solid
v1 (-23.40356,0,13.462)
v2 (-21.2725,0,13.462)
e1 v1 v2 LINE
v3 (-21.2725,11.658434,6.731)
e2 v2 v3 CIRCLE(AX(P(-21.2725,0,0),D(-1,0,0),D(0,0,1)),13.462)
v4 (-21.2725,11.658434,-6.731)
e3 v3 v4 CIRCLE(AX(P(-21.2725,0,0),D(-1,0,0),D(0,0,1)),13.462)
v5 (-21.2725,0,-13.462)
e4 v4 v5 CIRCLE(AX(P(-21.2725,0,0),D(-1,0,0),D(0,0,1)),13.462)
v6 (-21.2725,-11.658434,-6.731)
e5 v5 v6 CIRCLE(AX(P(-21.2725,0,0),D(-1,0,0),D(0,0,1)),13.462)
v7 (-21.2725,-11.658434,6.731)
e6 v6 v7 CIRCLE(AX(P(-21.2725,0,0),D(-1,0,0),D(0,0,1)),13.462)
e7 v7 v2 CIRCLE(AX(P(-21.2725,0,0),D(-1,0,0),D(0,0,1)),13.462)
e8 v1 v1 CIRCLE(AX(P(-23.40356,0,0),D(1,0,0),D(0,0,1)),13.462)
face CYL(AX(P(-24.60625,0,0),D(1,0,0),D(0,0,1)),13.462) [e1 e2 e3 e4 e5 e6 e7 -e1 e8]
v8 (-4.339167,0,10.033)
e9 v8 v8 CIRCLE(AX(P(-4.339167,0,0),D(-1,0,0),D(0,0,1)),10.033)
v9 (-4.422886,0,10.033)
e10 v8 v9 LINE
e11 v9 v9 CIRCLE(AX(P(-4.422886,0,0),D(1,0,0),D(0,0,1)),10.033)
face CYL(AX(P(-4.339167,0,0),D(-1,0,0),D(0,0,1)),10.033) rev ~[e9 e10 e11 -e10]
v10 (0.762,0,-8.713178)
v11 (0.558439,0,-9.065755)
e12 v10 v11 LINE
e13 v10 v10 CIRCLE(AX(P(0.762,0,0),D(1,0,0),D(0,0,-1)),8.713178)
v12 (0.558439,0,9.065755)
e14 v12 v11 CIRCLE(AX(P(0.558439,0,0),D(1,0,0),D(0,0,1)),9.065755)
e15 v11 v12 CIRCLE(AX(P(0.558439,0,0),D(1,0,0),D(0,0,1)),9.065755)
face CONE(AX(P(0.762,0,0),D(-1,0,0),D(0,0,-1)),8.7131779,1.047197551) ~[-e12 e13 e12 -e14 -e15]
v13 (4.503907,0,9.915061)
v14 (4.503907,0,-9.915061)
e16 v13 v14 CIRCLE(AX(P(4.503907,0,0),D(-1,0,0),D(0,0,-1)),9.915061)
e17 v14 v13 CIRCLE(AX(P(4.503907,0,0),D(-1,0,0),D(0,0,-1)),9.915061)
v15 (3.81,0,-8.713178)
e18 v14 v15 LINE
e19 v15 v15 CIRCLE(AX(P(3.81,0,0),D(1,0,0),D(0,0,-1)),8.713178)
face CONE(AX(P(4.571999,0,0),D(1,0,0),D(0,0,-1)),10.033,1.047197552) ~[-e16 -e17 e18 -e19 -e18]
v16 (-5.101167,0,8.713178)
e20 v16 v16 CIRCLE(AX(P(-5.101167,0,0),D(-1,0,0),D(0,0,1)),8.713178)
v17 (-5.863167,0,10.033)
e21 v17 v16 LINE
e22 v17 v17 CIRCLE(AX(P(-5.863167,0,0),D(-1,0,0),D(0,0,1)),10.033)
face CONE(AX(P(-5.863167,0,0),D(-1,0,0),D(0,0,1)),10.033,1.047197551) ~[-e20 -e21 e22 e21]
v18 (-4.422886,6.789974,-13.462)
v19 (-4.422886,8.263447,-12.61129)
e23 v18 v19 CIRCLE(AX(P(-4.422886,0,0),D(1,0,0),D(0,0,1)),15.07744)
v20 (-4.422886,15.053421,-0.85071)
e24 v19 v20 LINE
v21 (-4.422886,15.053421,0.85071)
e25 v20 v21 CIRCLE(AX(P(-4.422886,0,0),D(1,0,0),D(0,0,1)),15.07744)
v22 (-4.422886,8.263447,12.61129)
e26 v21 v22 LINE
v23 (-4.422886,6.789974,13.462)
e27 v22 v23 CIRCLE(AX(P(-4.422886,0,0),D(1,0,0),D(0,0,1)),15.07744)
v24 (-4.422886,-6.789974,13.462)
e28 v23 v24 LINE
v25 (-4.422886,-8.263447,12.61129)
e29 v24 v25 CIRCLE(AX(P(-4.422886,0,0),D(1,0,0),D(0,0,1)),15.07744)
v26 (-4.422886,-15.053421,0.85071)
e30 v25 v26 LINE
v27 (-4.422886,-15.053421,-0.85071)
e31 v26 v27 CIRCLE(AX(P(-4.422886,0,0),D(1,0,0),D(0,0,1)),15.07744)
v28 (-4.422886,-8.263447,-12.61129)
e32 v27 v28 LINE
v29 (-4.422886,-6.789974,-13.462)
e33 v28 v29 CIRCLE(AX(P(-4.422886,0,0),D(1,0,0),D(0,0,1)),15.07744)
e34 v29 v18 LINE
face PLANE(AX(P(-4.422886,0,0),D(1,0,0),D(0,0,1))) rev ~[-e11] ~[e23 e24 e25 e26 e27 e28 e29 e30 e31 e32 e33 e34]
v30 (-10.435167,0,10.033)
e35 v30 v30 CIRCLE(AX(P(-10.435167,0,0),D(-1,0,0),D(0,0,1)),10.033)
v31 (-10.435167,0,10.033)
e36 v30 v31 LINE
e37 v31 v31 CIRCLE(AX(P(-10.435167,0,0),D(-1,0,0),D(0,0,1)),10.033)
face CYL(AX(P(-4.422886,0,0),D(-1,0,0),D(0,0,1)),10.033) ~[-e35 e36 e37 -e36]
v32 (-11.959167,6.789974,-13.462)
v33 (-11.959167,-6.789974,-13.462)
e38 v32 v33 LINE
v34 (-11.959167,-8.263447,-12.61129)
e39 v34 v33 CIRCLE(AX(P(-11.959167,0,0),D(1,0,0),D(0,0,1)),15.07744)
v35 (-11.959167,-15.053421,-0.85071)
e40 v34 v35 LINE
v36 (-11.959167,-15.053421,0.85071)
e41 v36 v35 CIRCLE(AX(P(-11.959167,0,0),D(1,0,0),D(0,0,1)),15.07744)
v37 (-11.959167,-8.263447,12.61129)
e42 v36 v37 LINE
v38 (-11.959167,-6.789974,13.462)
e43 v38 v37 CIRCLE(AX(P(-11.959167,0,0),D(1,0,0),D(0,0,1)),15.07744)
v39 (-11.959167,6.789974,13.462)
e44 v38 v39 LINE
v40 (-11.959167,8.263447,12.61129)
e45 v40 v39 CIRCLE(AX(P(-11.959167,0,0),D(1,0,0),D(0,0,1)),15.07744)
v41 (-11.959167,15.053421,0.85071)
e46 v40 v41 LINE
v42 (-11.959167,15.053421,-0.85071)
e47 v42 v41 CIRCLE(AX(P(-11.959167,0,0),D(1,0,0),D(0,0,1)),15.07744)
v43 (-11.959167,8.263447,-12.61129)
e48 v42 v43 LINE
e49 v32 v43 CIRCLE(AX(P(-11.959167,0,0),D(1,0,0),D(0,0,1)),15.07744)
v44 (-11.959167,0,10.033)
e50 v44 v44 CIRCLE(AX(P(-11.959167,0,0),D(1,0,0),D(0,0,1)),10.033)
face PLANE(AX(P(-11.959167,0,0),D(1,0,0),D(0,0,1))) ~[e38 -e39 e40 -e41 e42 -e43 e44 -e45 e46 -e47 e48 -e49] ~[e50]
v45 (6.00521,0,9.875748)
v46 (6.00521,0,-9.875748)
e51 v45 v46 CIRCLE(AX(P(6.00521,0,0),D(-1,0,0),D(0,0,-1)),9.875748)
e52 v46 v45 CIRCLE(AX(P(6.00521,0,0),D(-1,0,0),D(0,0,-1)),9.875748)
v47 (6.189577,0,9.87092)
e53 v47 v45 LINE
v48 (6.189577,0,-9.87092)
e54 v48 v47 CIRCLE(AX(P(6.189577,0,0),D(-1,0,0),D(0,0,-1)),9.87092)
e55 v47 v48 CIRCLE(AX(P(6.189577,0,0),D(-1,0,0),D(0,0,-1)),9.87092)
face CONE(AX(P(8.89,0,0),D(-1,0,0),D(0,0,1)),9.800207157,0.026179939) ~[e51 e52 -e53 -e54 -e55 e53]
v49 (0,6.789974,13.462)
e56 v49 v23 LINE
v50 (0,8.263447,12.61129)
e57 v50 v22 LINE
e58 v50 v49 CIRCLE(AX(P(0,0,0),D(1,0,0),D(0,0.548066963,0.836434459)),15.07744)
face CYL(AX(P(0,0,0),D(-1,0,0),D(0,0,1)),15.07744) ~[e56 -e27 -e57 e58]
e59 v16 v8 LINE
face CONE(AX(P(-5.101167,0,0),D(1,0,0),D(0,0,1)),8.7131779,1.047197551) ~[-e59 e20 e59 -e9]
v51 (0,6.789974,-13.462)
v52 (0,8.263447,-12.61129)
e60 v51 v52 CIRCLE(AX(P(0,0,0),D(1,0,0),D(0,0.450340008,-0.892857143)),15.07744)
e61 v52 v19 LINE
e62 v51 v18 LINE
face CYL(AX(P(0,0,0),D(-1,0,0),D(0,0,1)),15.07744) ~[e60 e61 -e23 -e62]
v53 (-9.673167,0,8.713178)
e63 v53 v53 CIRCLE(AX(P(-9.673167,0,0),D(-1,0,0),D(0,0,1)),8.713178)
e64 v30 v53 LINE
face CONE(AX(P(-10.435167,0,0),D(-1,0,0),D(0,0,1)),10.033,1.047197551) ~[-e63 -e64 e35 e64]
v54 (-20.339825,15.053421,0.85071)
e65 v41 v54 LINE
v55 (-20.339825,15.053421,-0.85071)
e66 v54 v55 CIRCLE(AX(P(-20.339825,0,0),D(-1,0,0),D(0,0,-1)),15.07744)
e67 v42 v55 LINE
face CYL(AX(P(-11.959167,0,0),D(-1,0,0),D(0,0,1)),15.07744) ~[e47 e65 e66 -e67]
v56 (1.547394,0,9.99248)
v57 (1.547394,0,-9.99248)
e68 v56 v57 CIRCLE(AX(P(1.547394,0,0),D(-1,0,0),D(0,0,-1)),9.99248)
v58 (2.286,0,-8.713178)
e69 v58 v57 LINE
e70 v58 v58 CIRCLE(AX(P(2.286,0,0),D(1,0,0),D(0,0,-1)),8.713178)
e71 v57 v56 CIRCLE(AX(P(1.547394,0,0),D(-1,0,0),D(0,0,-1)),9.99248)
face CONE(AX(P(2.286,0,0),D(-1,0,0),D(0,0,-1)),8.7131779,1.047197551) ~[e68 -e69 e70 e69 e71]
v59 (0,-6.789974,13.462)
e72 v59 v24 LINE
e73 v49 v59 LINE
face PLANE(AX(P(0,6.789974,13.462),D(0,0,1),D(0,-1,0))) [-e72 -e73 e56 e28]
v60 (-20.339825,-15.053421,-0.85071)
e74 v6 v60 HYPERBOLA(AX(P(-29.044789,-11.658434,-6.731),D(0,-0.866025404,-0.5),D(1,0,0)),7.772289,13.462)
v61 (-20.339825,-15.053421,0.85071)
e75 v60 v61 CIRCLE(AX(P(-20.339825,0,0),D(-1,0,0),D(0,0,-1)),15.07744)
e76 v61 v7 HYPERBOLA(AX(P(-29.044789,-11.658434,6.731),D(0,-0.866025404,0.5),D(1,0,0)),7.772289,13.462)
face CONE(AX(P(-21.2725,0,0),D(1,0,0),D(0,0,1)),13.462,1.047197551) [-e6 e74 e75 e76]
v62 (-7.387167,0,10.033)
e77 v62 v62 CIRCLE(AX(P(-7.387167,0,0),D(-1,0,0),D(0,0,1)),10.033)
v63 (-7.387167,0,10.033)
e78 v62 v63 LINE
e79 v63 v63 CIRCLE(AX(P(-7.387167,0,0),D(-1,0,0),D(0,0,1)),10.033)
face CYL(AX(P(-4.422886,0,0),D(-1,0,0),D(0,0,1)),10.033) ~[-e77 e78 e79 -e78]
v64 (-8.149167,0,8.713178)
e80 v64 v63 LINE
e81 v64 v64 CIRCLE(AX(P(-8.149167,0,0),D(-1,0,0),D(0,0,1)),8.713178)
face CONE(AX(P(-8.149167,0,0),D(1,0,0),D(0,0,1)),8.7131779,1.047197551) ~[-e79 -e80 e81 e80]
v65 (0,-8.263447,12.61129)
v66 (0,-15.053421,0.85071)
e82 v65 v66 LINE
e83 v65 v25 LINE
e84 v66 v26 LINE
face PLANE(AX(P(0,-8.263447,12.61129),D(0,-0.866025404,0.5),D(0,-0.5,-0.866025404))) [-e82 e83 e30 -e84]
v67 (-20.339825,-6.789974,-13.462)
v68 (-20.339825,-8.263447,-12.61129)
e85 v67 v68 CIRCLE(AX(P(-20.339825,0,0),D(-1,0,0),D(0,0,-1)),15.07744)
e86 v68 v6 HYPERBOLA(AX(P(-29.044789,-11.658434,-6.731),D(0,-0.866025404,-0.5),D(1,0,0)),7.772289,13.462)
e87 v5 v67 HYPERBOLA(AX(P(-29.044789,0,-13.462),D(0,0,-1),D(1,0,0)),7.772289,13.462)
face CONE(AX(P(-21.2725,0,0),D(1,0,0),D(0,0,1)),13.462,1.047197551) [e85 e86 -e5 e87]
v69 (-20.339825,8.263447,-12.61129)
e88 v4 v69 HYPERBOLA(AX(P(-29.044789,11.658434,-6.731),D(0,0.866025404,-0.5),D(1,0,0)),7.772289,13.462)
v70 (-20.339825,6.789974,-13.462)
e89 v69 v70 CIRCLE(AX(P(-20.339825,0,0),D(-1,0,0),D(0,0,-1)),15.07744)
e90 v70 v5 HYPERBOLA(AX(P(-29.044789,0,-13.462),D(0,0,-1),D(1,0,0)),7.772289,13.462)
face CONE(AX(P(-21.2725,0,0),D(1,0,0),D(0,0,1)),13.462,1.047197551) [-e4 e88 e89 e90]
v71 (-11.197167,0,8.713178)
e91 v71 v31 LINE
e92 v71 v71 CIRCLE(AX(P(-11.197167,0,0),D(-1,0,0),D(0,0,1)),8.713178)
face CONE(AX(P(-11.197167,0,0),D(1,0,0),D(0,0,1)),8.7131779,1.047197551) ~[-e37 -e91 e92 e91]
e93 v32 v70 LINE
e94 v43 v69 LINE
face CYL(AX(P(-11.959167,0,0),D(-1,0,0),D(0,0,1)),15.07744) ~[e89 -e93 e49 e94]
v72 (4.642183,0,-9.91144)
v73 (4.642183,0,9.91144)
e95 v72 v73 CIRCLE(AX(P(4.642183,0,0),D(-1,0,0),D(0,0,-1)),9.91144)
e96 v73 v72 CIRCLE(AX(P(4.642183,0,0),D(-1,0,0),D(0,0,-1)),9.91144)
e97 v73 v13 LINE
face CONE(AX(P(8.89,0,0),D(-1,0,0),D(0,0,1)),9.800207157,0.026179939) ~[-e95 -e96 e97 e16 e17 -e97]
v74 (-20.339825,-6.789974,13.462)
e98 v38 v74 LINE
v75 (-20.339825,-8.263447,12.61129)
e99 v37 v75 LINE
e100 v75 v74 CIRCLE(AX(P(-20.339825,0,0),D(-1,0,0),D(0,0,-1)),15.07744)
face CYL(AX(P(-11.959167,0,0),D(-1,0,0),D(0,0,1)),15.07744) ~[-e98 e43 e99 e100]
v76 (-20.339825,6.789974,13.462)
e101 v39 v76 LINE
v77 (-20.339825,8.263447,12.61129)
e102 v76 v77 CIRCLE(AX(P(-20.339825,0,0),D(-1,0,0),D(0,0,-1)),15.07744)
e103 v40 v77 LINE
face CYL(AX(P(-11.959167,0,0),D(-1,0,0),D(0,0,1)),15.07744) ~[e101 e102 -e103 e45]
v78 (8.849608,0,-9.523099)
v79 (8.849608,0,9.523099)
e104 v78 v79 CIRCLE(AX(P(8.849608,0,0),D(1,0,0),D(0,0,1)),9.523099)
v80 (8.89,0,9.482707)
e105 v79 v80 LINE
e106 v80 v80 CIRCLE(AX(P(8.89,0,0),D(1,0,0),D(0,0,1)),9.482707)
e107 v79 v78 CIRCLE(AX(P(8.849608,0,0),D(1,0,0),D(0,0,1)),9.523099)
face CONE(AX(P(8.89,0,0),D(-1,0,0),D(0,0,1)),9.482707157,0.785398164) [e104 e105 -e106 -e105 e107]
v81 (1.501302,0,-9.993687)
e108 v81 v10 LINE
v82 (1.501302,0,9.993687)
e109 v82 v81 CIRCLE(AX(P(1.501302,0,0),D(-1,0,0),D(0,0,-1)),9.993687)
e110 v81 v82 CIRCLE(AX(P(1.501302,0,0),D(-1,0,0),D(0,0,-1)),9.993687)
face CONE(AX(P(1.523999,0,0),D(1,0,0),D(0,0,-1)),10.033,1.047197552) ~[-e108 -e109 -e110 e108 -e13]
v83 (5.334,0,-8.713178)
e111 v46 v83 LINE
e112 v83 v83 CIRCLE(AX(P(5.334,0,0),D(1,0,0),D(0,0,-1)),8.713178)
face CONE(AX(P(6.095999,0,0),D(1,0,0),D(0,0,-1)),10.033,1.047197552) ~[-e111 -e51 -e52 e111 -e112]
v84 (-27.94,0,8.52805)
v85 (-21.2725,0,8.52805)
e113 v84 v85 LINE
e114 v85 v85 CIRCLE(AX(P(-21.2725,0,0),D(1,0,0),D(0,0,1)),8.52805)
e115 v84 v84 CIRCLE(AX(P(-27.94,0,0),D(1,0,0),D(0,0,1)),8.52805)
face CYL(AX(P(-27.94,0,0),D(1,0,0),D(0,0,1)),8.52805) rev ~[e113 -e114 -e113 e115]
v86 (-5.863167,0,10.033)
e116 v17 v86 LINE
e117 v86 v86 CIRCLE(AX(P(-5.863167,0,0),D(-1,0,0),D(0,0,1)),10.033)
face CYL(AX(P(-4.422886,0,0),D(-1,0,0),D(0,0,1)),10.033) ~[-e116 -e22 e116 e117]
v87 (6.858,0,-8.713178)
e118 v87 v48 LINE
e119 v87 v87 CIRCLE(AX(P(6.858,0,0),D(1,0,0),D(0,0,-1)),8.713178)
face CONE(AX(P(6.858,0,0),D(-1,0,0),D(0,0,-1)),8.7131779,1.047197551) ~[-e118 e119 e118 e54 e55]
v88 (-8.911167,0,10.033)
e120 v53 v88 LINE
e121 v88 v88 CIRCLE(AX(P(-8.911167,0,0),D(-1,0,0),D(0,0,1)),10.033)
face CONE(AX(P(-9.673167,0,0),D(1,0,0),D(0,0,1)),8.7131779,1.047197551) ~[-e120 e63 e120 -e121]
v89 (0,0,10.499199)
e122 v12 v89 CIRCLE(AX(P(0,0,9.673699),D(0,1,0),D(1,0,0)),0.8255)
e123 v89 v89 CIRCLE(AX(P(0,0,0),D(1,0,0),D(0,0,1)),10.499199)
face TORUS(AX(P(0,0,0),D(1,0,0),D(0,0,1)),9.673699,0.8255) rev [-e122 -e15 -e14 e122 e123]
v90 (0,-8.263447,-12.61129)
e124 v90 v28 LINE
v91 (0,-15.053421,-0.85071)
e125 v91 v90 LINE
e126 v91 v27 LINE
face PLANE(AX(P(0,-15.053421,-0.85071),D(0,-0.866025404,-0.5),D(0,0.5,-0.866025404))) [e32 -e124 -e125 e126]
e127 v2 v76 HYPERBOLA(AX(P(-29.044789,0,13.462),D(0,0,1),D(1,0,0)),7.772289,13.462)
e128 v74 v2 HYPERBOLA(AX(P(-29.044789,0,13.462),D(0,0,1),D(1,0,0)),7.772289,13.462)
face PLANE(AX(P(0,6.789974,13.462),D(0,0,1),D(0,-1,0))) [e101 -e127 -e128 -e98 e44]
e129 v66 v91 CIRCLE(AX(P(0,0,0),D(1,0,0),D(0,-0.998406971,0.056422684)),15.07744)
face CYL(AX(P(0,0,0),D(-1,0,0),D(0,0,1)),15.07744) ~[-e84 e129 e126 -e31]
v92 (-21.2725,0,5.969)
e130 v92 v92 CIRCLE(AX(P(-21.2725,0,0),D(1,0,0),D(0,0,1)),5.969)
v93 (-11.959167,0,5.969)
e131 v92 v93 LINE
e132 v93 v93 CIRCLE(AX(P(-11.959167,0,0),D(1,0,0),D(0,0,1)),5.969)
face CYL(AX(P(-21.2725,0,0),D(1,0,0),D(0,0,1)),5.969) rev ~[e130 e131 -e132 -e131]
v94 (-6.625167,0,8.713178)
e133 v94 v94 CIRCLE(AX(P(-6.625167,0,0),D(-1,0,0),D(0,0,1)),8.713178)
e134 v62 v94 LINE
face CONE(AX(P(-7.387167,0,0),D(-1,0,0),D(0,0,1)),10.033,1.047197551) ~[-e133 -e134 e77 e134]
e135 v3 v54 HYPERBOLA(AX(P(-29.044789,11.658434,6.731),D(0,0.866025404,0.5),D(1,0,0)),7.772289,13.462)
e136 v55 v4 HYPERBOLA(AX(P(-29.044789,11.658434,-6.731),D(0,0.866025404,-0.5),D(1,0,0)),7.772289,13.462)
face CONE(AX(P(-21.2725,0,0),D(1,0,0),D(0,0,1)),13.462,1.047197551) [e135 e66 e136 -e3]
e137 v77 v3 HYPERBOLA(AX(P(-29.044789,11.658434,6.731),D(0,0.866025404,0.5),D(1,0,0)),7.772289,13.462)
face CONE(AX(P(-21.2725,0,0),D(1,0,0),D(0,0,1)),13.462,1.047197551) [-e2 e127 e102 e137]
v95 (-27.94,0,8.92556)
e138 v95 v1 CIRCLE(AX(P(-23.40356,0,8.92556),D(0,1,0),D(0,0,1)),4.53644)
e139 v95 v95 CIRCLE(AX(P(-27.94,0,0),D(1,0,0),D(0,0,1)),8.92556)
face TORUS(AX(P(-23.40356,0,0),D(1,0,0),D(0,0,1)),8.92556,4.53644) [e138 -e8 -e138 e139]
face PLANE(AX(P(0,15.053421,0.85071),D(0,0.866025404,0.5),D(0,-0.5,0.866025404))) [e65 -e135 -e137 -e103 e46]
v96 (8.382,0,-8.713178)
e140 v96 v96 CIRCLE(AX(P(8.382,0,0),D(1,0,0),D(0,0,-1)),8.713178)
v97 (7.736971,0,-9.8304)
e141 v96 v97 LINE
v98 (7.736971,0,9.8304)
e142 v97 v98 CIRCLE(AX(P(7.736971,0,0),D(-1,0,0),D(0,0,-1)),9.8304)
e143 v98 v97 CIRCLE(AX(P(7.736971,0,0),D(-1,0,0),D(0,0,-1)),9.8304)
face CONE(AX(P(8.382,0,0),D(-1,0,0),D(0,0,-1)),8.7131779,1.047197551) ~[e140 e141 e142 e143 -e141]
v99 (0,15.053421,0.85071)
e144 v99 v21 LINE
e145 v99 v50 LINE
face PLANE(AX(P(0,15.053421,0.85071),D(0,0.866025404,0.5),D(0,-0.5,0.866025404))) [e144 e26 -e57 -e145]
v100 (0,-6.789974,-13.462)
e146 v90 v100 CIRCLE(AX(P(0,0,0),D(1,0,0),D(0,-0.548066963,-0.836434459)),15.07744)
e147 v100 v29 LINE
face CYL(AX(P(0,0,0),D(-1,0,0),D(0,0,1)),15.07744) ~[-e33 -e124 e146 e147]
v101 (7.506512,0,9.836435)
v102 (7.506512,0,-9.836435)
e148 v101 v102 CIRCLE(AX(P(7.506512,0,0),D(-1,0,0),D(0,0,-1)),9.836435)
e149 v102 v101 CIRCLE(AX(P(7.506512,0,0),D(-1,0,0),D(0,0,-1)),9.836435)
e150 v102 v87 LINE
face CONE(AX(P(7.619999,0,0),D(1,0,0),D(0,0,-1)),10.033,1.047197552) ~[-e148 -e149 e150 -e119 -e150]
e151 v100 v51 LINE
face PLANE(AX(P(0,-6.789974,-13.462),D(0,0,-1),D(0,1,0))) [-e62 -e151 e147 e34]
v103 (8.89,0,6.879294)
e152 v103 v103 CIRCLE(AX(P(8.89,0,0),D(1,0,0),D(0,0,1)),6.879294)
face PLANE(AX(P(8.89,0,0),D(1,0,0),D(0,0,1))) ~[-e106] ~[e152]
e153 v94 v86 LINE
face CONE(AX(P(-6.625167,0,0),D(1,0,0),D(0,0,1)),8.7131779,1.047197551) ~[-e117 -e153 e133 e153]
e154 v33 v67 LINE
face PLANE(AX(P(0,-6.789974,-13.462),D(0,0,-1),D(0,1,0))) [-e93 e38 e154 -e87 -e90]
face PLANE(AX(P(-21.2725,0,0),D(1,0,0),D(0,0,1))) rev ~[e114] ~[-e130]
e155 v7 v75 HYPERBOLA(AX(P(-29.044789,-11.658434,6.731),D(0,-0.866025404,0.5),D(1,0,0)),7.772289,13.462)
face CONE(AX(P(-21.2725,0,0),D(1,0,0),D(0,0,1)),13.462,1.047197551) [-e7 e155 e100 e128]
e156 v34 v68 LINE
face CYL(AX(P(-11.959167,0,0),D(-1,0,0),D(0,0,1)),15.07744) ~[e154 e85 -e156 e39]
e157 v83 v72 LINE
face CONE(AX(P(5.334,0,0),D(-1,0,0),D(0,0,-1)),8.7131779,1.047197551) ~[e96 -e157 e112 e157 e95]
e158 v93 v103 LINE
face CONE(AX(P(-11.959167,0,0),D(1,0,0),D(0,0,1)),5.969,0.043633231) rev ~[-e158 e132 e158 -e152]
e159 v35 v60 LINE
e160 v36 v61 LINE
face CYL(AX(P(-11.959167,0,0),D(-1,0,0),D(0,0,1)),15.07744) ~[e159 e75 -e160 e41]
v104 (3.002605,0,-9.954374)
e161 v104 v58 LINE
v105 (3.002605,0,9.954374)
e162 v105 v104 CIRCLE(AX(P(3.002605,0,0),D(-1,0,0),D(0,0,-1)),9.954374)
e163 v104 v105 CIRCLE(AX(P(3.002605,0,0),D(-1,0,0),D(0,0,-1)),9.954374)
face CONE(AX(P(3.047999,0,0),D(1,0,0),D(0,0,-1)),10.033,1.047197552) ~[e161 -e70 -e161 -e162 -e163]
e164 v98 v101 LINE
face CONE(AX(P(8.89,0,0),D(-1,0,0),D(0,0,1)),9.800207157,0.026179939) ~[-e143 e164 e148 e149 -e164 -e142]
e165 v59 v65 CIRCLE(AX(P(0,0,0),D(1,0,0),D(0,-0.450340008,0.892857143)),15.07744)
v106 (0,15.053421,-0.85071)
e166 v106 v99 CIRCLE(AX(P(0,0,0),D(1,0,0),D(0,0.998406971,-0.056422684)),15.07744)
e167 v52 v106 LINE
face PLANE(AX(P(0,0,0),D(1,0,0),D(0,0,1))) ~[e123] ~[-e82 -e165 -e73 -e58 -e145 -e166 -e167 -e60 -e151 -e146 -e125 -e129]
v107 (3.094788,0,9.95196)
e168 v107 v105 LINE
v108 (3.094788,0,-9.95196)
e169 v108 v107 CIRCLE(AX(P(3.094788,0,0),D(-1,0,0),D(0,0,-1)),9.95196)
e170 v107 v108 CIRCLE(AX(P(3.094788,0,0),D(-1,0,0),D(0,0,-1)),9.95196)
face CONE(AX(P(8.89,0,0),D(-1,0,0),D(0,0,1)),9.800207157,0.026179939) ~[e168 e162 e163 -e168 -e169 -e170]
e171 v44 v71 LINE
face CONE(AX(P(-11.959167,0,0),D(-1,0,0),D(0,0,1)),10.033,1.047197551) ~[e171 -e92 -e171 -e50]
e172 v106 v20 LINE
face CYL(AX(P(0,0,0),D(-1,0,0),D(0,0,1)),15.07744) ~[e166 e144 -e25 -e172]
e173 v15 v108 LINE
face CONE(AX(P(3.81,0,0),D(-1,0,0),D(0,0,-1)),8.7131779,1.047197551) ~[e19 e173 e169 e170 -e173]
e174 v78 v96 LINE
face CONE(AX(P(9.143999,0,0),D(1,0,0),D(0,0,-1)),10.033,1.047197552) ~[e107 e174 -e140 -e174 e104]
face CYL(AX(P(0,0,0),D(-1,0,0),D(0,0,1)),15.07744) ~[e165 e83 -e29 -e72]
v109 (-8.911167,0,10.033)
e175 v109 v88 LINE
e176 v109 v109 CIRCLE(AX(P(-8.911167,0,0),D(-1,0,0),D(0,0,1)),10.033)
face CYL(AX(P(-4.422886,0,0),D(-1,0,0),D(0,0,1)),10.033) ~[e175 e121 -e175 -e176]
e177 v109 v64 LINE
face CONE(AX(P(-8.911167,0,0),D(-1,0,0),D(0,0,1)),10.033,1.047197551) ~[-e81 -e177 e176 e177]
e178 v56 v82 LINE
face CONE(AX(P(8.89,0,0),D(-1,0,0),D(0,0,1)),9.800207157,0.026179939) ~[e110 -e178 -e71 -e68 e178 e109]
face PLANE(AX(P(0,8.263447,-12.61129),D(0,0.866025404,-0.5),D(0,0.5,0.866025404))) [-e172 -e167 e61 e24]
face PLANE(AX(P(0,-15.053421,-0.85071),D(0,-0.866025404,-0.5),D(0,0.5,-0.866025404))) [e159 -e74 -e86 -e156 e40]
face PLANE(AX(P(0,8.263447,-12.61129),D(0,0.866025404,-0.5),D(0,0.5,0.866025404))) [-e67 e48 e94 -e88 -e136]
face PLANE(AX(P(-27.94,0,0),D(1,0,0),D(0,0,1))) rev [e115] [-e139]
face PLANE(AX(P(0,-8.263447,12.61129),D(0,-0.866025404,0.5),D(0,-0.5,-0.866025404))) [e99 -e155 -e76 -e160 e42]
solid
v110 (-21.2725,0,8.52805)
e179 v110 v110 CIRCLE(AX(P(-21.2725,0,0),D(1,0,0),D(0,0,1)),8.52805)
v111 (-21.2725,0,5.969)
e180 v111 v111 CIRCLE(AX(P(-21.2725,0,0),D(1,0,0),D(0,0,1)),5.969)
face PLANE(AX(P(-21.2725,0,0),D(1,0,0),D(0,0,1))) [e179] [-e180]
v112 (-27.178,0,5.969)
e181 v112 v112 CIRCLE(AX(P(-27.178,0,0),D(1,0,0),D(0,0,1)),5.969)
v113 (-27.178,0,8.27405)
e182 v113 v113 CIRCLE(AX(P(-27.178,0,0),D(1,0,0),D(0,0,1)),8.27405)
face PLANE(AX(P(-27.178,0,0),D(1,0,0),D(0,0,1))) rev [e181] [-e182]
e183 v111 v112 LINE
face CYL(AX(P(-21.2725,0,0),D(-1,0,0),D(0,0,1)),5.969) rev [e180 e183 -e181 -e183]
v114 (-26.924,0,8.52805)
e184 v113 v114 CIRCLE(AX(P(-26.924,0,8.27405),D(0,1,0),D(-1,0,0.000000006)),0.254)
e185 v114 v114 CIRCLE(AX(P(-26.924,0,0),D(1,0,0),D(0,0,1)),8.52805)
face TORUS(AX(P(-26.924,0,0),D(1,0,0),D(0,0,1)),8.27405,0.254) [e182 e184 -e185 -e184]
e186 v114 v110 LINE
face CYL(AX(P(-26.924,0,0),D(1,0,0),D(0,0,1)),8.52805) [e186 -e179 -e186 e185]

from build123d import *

# Parameters (mm, degrees)
SKETCH2_OUTSIDE_W  = 43.424
SKETCH2_OUTSIDE_H  = 43.424
CUT_EXTRUDE1_DEPTH = 21.2725
CHAMFER1_SIZE      = 0.326149358
CHAMFER1_SIZE2     = 0.3175
SKETCH3_OUTSIDE_W  = 147.812
SKETCH3_OUTSIDE_H  = 151.042
SKETCH3_OUTSIDE_R  = 13.462
CUT_EXTRUDE2_DEPTH = 31.1625
CUT_EXTRUDE2_DRAFT = -60
SKETCH14_W         = 6.6675
SKETCH14_H         = 3.429
FILLET1_R          = 4.53644
LPATTERN1_COUNT    = 5
LPATTERN1_PITCH    = 1.524
LPATTERN2_COUNT    = 6
LPATTERN2_PITCH    = 1.524
SKETCH15_R         = 0.8255


with BuildPart() as part:
    # Sketch1 → Revolve1 (revolve)
    with BuildSketch(Plane.XY, mode=Mode.PRIVATE) as revolve1_sk:
        Polygon((-11.959166667, 10.033), (-11.959166667, 15.07744), (-21.2725, 15.07744), (-21.2725, 10.033), (-27.94, 10.033), (-27.94, 8.52805), (-21.2725, 8.52805), (-21.2725, 5.969), (-11.959166667, 5.969), (8.89, 6.879294276), (8.89, 9.800207157), (0, 10.033), (0, 15.07744), (-4.422885572, 15.07744), (-4.422885572, 10.033), align=None)
    revolve(revolve1_sk.sketch.rotate(Axis((-18.386021217, 0, 0), (1, 0, 0)), 90), axis=Axis((-18.386021217, 0, 0), (1, 0, 0)))  # turned: the seam where the file's is

    # Sketch2 outside → Cut-Extrude1 (cut)
    with BuildSketch(Plane(origin=(0, 0, 0), x_dir=(0, 0, -1), z_dir=(1, 0, 0))):
        Rectangle(SKETCH2_OUTSIDE_W, SKETCH2_OUTSIDE_H)
        with BuildLine():
            Line((13.462, -6.789974444), (13.462, 6.789974444))
            ThreePointArc((13.462, 6.789974444), (13.057446064, 7.53872), (12.61129036, 8.263446764))
            Line((12.61129036, 8.263446764), (0.85070964, 15.053421208))
            ThreePointArc((0.85070964, 15.053421208), (0, 15.07744), (-0.85070964, 15.053421208))
            Line((-0.85070964, 15.053421208), (-12.61129036, 8.263446764))
            ThreePointArc((-12.61129036, 8.263446764), (-13.057446064, 7.53872), (-13.462, 6.789974444))
            Line((-13.462, 6.789974444), (-13.462, -6.789974444))
            ThreePointArc((-13.462, -6.789974444), (-13.057446064, -7.53872), (-12.61129036, -8.263446764))
            Line((-12.61129036, -8.263446764), (-0.85070964, -15.053421208))
            ThreePointArc((-0.85070964, -15.053421208), (0, -15.07744), (0.85070964, -15.053421208))
            Line((0.85070964, -15.053421208), (12.61129036, -8.263446764))
            ThreePointArc((12.61129036, -8.263446764), (13.057446064, -7.53872), (13.462, -6.789974444))
        make_face(mode=Mode.SUBTRACT)
    extrude(amount=-CUT_EXTRUDE1_DEPTH, mode=Mode.SUBTRACT)

    # Chamfer1
    chamfer1_edges = [part.edges().sort_by_distance(p)[0] for p in [
        (8.89, 0, -9.800207157),
    ]]
    chamfer1_side = [part.faces().sort_by_distance(p)[0] for p in [
        (4.445, 0, -9.916603579),
    ]]
    chamfer(chamfer1_edges, length=CHAMFER1_SIZE, length2=CHAMFER1_SIZE2, reference=chamfer1_side[0])


with BuildPart() as cut_extrude2_tool:
    # Sketch3 outside → Cut-Extrude2 (with draft: the straight prism first)
    with BuildSketch(Plane.ZY.offset(21.2725)):
        Rectangle(SKETCH3_OUTSIDE_W, SKETCH3_OUTSIDE_H)
        Circle(SKETCH3_OUTSIDE_R, mode=Mode.SUBTRACT)
    extrude(amount=-CUT_EXTRUDE2_DEPTH)
    # Cut-Extrude2: the draft: its side faces are tilted about the plane it starts from
    cut_extrude2_sides = [cut_extrude2_tool.faces().sort_by_distance(p)[0] for p in [
        (-5.69125, -75.521, 0),
        (-5.69125, 0, 73.906),
        (-5.69125, 75.521, 0),
        (-5.69125, 0, -73.906),
        (-5.69125, 0, -13.462),
    ]]
    draft(cut_extrude2_sides, Plane.ZY.offset(21.2725), CUT_EXTRUDE2_DRAFT)


with BuildPart() as part_1:
    add(part.part)

    # Cut-Extrude2: cut by cut_extrude2_tool
    add(cut_extrude2_tool.part, mode=Mode.SUBTRACT)

    # Sketch14 → Revolve4 (revolve)
    with BuildSketch(Plane.XY, mode=Mode.PRIVATE) as revolve4_sk:
        with Locations((-24.60625, 11.7475)):
            Rectangle(SKETCH14_W, SKETCH14_H)
    revolve(revolve4_sk.sketch.rotate(Axis((-18.386021217, 0, 0), (1, 0, 0)), 90), axis=Axis((-18.386021217, 0, 0), (1, 0, 0)))  # turned: the seam where the file's is

    # Fillet1
    fillet1_edges = [part_1.edges().sort_by_distance(p)[0] for p in [
        (-27.94, 0, -13.462),
    ]]
    fillet(fillet1_edges, radius=FILLET1_R)

    # Sketch10 → Cut-Revolve1 (revolve, cut)
    with BuildSketch(Plane.XY, mode=Mode.PRIVATE) as cut_revolve1_sk:
        Polygon((-11.959166667, 10.033), (-11.197167022, 8.7131779), (-10.435167377, 10.033), align=None)
    cut_revolve1 = revolve(cut_revolve1_sk.sketch.rotate(Axis((15.58962545, 0, 0), (-1, 0, 0)), 270), axis=Axis((15.58962545, 0, 0), (-1, 0, 0)), mode=Mode.SUBTRACT)  # turned: the seam where the file's is

    # LPattern1: Cut-Revolve1 ×5
    with Locations(*[(i * LPATTERN1_PITCH, 0, 0) for i in range(1, LPATTERN1_COUNT)]):
        add(cut_revolve1, mode=Mode.SUBTRACT)

    # Sketch13 → Cut-Revolve2 (revolve, cut)
    with BuildSketch(Plane.XY, mode=Mode.PRIVATE) as cut_revolve2_sk:
        Polygon((0, 10.033), (1.523999289, 10.033), (0.761999645, 8.7131779), align=None)
    cut_revolve2 = revolve(cut_revolve2_sk.sketch.rotate(Axis((-18.386021217, 0, 0), (1, 0, 0)), 270), axis=Axis((-18.386021217, 0, 0), (1, 0, 0)), mode=Mode.SUBTRACT)  # turned: the seam where the file's is

    # LPattern2: Cut-Revolve2 ×6
    with Locations(*[(i * LPATTERN2_PITCH, 0, 0) for i in range(1, LPATTERN2_COUNT)]):
        add(cut_revolve2, mode=Mode.SUBTRACT)

    # Sketch15 → Cut-Revolve3 (revolve, cut)
    with BuildSketch(Plane.XY, mode=Mode.PRIVATE) as cut_revolve3_sk:
        with Locations((0, -9.673698712)):
            Circle(SKETCH15_R)
    revolve(cut_revolve3_sk.sketch.rotate(Axis((1.524, 0, 0), (-1, 0, 0)), 90), axis=Axis((1.524, 0, 0), (-1, 0, 0)), mode=Mode.SUBTRACT)  # turned: the seam where the file's is


with BuildPart() as body_2:
    # Sketch16 → Revolve5 (revolve)
    with BuildSketch(Plane.XY, mode=Mode.PRIVATE) as revolve5_sk:
        with BuildLine():
            Line((-26.924, 8.52805), (-21.2725, 8.52805))
            Line((-21.2725, 8.52805), (-21.2725, 5.969))
            Line((-21.2725, 5.969), (-27.178, 5.969))
            Line((-27.178, 5.969), (-27.178, 8.27405))
            ThreePointArc((-27.178, 8.27405), (-27.103605122, 8.453655122), (-26.924, 8.52805))
        make_face()
    revolve(revolve5_sk.sketch.rotate(Axis((-18.386021217, 0, 0), (1, 0, 0)), 90), axis=Axis((-18.386021217, 0, 0), (1, 0, 0)))  # turned: the seam where the file's is


solid = Compound([part_1.part, body_2.part])
